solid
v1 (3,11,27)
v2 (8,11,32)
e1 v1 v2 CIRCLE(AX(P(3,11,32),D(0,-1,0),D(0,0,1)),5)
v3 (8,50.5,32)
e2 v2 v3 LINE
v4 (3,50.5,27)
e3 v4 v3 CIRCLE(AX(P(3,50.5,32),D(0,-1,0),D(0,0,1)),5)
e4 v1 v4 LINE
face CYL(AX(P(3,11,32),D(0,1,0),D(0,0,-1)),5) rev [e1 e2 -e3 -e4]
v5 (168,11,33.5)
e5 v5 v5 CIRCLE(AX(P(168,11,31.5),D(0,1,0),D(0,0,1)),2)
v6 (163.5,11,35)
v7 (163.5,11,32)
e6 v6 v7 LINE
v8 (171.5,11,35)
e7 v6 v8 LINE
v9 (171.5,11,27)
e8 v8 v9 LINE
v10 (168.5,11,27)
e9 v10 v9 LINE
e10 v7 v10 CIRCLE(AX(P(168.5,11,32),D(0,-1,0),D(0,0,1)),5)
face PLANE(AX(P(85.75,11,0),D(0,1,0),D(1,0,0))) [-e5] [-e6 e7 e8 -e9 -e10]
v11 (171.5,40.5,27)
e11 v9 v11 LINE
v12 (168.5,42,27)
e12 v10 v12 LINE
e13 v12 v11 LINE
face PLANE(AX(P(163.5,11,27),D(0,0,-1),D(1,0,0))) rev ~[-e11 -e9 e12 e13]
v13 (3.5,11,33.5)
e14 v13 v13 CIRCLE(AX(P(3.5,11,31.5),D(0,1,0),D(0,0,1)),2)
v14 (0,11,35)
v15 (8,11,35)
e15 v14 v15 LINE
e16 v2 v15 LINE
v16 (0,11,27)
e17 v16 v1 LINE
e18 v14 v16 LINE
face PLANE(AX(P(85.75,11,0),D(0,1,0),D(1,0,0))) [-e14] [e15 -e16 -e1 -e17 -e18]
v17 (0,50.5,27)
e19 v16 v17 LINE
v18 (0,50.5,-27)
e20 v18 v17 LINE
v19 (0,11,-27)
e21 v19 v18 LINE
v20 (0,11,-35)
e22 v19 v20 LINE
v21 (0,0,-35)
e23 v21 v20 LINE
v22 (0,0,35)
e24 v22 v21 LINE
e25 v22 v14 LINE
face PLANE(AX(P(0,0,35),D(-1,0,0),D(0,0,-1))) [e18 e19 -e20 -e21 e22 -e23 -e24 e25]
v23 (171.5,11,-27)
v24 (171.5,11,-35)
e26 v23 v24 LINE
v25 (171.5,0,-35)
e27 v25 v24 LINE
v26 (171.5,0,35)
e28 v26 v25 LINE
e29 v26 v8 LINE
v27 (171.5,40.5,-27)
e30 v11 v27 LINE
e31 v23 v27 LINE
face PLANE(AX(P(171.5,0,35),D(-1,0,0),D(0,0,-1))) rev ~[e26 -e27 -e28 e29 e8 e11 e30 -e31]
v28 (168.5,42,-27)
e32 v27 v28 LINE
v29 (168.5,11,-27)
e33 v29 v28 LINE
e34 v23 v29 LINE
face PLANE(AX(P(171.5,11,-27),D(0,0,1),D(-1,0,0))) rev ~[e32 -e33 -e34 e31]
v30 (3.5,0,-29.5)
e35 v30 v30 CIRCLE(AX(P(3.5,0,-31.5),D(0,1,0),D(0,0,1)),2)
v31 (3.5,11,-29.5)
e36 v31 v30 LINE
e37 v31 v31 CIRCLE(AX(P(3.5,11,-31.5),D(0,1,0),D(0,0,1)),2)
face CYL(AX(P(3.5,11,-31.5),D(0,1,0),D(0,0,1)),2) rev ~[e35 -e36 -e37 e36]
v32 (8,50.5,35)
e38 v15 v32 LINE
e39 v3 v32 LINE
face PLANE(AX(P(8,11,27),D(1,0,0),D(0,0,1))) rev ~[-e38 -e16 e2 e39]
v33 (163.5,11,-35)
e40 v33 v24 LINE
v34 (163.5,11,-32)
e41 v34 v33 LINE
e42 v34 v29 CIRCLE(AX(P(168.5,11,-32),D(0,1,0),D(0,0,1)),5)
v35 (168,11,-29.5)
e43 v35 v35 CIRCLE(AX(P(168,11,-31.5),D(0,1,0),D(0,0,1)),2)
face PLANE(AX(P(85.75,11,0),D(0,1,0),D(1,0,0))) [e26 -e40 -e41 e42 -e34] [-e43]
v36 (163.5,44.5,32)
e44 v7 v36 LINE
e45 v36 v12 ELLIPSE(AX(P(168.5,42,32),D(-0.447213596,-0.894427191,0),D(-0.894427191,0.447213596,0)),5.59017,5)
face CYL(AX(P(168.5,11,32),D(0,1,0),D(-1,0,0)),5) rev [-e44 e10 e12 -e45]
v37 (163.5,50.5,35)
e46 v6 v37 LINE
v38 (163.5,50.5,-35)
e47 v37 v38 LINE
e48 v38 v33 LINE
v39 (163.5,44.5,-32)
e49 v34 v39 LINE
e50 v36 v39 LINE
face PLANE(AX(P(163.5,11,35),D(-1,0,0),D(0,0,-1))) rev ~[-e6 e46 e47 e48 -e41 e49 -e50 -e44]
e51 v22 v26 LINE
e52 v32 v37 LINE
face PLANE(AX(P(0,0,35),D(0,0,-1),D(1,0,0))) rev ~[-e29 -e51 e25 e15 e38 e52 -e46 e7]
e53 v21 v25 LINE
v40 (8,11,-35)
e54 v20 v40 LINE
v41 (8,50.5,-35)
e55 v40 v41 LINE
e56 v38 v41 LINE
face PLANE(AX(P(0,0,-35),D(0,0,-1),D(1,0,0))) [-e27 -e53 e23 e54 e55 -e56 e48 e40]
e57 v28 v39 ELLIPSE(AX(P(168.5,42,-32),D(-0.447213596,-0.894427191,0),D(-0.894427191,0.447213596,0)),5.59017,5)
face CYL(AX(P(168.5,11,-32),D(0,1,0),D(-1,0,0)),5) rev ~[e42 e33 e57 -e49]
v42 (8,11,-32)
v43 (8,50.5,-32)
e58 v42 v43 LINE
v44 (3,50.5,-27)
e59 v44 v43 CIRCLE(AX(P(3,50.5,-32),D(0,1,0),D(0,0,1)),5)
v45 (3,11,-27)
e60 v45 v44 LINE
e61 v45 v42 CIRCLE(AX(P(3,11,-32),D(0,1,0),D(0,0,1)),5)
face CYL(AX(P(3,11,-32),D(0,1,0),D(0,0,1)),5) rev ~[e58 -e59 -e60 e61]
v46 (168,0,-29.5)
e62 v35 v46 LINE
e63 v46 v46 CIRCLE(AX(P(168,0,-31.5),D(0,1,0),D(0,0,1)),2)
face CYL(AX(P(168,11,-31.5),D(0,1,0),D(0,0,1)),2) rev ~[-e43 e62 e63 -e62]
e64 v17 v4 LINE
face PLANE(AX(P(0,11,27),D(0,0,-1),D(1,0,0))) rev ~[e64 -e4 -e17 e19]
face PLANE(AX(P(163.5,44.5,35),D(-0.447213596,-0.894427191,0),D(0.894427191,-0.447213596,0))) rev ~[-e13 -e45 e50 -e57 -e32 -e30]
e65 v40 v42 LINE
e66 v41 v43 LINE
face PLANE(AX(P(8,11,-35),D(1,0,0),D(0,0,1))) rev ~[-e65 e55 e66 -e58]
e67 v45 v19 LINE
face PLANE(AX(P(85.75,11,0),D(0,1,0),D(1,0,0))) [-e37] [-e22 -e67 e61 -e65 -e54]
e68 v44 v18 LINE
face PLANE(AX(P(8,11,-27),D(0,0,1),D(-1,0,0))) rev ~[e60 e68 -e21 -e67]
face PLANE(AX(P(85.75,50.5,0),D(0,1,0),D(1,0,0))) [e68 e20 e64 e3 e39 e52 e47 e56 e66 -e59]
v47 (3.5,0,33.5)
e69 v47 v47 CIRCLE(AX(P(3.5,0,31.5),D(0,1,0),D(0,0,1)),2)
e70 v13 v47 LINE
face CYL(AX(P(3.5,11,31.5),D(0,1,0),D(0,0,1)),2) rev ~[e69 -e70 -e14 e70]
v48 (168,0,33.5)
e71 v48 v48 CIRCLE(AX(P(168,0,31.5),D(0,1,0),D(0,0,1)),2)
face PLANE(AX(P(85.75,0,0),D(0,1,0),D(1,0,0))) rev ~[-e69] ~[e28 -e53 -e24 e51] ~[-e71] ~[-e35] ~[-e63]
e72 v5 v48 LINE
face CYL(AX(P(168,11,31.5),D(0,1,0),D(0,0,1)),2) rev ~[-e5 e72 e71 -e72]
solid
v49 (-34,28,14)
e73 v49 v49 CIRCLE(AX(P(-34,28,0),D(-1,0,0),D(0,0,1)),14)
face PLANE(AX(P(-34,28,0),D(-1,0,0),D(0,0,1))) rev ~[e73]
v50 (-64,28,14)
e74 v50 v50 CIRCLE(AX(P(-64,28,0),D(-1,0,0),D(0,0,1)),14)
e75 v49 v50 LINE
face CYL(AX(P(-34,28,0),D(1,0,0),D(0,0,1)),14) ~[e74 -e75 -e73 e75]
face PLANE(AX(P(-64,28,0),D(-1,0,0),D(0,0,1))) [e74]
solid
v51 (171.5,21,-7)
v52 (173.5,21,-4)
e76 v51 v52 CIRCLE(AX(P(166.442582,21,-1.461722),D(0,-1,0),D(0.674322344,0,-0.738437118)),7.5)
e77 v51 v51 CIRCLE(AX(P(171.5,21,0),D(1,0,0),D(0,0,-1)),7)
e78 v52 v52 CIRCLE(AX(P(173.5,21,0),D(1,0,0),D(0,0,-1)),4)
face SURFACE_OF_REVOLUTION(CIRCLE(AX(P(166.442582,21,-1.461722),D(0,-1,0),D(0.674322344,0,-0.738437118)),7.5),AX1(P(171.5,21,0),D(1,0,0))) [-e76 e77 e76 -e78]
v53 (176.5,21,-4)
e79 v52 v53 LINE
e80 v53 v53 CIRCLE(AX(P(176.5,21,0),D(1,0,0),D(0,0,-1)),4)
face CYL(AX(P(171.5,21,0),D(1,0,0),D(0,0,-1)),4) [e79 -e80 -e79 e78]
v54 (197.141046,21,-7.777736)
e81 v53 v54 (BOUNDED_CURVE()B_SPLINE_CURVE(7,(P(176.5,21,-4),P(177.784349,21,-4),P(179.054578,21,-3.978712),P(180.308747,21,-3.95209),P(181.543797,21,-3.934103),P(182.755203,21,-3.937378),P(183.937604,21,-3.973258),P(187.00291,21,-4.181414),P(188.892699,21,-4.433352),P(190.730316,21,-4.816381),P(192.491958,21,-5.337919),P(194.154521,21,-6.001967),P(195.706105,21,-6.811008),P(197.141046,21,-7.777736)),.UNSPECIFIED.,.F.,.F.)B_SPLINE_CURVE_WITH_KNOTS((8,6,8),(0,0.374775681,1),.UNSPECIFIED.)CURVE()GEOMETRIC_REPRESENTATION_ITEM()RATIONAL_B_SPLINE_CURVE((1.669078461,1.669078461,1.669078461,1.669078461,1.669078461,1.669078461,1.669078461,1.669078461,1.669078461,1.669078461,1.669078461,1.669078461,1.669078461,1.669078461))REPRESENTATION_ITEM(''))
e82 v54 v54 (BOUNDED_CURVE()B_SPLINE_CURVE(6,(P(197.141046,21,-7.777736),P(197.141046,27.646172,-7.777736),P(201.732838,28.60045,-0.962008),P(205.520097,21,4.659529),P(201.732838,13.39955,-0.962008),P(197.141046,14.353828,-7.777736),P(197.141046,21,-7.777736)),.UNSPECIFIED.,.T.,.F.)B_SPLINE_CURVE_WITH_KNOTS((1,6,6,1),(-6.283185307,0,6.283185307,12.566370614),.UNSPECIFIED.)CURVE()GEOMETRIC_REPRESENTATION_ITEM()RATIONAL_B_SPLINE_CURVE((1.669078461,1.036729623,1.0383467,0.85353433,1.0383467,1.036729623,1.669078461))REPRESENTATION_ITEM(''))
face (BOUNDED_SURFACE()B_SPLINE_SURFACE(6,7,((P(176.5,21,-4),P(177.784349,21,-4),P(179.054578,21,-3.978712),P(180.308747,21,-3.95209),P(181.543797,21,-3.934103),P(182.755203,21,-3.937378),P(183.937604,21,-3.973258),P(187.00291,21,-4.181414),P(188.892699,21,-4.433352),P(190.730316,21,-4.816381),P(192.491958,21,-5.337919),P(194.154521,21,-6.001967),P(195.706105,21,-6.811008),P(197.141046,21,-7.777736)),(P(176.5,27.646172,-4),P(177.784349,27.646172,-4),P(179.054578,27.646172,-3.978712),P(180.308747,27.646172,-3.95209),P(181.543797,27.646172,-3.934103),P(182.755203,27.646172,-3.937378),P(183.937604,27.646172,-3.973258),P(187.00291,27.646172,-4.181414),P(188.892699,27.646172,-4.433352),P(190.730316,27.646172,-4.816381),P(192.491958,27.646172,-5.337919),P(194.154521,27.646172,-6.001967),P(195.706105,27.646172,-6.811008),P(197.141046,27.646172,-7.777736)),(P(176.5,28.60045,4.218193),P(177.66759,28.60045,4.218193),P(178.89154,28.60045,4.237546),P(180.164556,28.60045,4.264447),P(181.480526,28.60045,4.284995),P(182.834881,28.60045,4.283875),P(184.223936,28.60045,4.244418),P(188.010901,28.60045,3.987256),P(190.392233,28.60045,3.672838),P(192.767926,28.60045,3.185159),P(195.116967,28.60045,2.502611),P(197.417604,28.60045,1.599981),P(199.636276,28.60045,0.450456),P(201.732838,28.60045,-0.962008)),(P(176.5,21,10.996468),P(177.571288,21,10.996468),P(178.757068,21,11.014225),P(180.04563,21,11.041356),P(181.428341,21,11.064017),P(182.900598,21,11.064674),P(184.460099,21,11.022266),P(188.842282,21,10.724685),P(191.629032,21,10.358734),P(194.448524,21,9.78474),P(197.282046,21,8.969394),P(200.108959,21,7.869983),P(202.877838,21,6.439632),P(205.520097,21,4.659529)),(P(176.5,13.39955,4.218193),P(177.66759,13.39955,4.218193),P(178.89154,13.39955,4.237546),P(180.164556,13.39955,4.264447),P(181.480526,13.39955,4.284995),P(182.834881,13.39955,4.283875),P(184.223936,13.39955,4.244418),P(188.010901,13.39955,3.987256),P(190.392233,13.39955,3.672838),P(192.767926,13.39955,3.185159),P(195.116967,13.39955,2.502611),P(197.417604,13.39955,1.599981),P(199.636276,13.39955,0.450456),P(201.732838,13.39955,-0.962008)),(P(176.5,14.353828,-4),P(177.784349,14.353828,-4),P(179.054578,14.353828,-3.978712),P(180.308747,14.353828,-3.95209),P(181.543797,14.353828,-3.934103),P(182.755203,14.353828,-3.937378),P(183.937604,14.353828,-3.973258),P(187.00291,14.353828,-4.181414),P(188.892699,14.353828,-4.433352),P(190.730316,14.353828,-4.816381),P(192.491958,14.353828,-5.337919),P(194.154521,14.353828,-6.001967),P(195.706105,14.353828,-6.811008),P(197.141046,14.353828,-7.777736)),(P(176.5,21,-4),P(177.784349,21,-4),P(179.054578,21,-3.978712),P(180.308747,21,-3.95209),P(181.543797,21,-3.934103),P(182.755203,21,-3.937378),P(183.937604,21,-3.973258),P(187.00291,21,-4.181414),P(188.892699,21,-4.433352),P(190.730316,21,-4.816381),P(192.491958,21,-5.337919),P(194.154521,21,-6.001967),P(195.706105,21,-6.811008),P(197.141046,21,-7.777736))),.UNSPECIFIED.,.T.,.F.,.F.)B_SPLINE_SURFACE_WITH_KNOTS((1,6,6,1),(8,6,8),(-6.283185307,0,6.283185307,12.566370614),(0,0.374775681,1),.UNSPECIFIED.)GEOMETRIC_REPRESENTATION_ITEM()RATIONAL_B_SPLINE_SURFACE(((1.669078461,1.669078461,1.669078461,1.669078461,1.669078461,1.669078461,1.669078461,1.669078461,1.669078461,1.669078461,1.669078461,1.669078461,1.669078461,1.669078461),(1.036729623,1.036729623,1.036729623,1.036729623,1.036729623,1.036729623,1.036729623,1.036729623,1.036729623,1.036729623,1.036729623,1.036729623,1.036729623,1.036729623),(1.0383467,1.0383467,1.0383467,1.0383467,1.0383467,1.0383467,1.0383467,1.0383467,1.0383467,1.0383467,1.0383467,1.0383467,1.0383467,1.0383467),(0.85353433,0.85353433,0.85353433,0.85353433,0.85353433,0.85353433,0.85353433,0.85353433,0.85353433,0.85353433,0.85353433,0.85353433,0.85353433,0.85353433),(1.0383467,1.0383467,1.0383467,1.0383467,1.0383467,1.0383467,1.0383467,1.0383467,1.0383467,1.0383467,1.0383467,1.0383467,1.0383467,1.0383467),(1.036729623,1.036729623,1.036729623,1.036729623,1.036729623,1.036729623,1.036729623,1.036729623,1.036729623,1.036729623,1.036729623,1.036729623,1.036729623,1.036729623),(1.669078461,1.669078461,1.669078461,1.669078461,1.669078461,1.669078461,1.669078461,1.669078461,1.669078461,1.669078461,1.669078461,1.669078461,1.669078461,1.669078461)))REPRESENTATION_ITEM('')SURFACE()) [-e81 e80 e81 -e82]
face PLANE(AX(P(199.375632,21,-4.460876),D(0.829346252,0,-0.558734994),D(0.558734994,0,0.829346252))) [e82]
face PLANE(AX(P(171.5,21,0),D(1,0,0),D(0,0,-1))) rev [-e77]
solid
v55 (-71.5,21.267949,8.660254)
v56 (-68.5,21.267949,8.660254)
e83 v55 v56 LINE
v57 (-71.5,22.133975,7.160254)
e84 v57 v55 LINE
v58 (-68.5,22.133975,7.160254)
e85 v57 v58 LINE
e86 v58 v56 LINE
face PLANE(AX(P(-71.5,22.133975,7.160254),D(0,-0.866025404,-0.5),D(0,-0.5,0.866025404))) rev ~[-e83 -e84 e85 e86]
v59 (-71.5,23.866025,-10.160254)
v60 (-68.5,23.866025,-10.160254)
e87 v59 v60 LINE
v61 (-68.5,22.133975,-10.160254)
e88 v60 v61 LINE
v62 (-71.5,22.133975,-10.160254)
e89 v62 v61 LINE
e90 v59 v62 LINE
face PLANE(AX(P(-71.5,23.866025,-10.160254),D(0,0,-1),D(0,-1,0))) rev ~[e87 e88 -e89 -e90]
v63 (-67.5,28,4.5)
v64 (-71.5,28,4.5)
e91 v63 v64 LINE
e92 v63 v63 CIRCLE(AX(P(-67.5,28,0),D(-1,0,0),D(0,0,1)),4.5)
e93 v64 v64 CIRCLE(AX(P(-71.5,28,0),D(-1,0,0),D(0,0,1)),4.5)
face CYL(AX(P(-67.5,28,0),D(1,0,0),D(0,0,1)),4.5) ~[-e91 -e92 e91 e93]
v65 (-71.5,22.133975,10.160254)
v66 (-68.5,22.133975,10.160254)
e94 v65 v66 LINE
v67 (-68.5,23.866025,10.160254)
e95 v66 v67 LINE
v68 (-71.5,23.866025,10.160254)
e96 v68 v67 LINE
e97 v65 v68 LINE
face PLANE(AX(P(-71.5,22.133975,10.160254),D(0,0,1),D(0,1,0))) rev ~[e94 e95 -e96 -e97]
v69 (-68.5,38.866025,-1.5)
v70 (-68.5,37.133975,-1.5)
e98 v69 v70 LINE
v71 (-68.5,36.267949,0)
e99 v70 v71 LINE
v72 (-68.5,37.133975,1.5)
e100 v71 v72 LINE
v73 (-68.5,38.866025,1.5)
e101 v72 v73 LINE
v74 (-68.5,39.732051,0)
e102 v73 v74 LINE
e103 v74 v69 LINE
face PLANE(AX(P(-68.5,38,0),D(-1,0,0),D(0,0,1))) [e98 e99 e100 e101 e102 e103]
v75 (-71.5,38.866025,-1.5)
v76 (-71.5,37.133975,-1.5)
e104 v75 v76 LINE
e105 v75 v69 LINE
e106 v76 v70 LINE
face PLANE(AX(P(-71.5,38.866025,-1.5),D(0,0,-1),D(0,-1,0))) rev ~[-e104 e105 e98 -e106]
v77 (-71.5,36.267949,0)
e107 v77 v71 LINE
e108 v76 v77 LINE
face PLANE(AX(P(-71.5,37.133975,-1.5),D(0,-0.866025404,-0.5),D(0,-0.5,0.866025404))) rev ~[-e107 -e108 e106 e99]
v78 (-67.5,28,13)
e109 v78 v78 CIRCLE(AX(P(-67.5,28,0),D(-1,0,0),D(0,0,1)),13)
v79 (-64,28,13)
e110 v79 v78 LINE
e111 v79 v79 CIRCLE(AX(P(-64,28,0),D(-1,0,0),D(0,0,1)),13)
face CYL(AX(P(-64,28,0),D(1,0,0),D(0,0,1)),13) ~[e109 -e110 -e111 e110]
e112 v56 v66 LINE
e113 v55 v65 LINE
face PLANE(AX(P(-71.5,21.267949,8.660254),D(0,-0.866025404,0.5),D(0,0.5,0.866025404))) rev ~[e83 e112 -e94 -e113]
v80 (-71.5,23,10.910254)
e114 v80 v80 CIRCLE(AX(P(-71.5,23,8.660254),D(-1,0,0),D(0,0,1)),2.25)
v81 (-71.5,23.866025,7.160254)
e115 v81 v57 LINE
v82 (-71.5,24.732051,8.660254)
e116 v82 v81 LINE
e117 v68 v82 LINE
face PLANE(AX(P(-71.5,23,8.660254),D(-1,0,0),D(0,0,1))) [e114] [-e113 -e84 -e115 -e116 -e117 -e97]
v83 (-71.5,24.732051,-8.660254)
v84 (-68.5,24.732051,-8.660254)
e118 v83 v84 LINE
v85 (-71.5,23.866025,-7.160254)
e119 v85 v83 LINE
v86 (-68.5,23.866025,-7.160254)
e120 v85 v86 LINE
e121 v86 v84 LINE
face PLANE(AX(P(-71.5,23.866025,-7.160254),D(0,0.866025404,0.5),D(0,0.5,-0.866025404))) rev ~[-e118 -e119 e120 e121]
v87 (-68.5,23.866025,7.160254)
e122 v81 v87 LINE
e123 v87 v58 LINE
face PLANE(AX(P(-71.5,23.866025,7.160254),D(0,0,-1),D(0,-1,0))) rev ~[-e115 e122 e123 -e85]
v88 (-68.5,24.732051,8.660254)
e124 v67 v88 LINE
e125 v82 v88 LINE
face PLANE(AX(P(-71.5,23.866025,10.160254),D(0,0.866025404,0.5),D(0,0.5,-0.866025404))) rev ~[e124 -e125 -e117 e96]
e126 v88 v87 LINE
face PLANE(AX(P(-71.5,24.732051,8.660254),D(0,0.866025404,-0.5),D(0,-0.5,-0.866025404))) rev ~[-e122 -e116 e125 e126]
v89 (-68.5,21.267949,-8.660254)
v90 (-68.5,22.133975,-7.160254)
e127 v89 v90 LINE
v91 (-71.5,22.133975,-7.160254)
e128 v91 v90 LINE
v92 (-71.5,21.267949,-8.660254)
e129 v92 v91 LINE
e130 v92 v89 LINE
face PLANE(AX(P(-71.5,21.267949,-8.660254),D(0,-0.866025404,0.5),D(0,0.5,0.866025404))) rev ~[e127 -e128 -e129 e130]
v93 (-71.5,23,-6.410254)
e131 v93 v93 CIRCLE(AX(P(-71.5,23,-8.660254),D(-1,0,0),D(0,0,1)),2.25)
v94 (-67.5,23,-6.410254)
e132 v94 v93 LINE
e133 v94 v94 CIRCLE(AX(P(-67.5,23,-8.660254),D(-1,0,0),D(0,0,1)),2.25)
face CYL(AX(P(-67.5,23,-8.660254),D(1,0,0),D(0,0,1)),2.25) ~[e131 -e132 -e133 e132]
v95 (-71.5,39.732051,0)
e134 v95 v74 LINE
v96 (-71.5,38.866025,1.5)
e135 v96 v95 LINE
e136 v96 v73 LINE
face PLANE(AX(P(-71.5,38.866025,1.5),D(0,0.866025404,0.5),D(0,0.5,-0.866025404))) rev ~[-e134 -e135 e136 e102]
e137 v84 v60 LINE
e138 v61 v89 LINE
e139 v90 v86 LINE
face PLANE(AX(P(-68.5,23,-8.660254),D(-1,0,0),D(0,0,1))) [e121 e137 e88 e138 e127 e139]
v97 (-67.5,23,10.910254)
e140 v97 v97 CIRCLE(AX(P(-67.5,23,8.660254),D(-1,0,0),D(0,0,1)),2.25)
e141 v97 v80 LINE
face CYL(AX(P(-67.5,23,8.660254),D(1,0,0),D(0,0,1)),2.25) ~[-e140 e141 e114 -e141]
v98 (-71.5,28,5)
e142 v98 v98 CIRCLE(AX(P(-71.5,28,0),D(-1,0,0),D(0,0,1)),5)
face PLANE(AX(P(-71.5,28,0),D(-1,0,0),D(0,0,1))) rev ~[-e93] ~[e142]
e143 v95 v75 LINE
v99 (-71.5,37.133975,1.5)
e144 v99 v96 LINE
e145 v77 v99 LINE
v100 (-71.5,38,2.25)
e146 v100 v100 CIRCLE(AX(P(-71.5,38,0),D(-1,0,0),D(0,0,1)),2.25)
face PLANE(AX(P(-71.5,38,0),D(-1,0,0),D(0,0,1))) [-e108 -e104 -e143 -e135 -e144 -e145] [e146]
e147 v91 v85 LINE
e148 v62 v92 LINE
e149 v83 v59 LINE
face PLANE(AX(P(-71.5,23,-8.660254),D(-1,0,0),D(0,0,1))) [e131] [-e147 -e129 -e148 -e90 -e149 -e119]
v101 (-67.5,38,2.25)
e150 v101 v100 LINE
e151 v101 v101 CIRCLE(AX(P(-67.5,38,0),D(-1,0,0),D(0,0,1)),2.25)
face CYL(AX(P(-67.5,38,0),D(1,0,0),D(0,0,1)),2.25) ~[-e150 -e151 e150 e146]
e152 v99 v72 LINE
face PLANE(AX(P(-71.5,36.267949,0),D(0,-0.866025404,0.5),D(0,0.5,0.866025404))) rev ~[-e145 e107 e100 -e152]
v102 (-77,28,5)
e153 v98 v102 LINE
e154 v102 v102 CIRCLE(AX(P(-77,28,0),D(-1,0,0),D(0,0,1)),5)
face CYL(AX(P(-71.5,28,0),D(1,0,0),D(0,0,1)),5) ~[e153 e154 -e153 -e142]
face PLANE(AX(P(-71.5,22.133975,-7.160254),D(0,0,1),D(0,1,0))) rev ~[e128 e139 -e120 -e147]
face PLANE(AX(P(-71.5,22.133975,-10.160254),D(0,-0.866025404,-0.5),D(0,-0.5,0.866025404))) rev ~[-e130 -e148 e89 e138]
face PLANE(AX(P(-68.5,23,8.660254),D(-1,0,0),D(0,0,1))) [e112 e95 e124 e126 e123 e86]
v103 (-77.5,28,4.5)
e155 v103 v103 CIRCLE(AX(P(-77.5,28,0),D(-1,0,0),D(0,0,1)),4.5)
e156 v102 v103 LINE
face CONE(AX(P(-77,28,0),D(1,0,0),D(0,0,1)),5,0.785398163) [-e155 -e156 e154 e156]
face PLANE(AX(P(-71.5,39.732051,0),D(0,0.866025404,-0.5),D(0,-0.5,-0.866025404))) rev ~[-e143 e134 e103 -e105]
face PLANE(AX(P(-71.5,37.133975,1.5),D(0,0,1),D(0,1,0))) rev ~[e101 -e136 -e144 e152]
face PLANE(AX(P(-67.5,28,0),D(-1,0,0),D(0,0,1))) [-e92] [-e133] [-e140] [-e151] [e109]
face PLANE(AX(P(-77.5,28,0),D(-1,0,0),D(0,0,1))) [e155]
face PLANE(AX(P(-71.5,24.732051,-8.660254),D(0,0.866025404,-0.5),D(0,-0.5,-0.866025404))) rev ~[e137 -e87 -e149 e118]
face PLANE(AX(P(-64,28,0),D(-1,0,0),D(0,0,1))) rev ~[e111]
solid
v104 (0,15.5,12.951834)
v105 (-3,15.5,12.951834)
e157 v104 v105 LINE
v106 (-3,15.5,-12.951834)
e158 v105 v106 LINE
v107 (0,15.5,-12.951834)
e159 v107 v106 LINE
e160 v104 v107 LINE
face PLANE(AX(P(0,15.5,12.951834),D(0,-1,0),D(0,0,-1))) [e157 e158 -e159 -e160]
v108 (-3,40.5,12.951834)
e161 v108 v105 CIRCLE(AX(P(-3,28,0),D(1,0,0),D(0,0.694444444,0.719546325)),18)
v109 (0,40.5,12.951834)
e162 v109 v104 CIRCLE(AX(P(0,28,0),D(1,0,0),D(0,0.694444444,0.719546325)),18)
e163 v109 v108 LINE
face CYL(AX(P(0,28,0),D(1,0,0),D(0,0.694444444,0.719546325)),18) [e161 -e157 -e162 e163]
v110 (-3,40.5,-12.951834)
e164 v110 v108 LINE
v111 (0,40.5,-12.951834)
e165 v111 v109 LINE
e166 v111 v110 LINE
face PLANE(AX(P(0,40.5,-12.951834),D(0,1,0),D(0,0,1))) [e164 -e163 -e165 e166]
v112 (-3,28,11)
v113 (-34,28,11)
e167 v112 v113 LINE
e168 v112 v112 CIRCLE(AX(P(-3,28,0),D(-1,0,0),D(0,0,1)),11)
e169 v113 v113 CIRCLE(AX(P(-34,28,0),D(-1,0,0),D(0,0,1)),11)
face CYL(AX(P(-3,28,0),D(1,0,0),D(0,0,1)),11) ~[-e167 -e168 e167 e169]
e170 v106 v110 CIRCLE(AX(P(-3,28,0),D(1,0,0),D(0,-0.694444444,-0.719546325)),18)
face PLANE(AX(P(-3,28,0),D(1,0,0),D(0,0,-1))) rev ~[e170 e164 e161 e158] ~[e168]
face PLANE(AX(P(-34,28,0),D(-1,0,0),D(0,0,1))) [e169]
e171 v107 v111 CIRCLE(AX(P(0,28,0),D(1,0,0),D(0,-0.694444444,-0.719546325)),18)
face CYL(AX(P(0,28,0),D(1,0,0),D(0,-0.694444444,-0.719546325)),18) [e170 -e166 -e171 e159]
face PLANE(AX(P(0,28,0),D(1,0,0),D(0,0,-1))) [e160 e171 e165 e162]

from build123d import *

# Parameters (mm, degrees)
SKETCH1_W           = 171.5
SKETCH1_H           = 70
BOSS_EXTRUDE1_DEPTH = 11
BOSS_EXTRUDE2_DEPTH = 39.5
FILLET1_R           = 5
SKETCH3_W           = 8
SKETCH3_H           = 70
CUT_EXTRUDE1_DEPTH  = 6
CUT_EXTRUDE2_REACH  = 193.996
BOSS_EXTRUDE3_DEPTH = 3
SKETCH6_R           = 11
BOSS_EXTRUDE4_DEPTH = 31
SKETCH7_R           = 14
BOSS_EXTRUDE5_DEPTH = 30
SKETCH8_R           = 13
BOSS_EXTRUDE6_DEPTH = 3.5
SKETCH9_R           = 2.25
BOSS_EXTRUDE7_DEPTH = 4
CUT_EXTRUDE3_DEPTH  = 3
SKETCH11_R          = 4.5
BOSS_EXTRUDE8_DEPTH = 4
SKETCH12_R          = 5
BOSS_EXTRUDE9_DEPTH = 6
CHAMFER1_SIZE       = 0.5
SKETCH13_R          = 2
CUT_EXTRUDE4_DEPTH  = 11
SKETCH15_R          = 4


with BuildPart() as part:
    # Sketch1 → Boss-Extrude1 (new body)
    with BuildSketch(Plane(origin=(0, 0, 0), x_dir=(1, 0, 0), z_dir=(0, 1, 0))):
        with Locations((85.75, 0)):
            Rectangle(SKETCH1_W, SKETCH1_H)
    extrude(amount=BOSS_EXTRUDE1_DEPTH)

    # Sketch2 → Boss-Extrude2 (add)
    with BuildSketch(Plane(origin=(0, 11, 0), x_dir=(1, 0, 0), z_dir=(0, 1, 0))):
        Polygon((0, 27), (0, -27), (8, -27), (8, -35), (163.5, -35), (163.5, -27), (171.5, -27), (171.5, 27), (163.5, 27), (163.5, 35), (8, 35), (8, 27), align=None)
    extrude(amount=BOSS_EXTRUDE2_DEPTH)

    # Fillet1
    fillet1_edges = [part.edges().sort_by_distance(p)[0] for p in [
        (8, 30.75, -27),
        (8, 30.75, 27),
        (163.5, 30.75, 27),
        (163.5, 30.75, -27),
    ]]
    fillet(fillet1_edges, radius=FILLET1_R)

    # Sketch3 → Cut-Extrude1 (cut)
    with BuildSketch(Plane(origin=(0, 50.5, 0), x_dir=(1, 0, 0), z_dir=(0, 1, 0))):
        with Locations((167.5, 0)):
            Rectangle(SKETCH3_W, SKETCH3_H)
    extrude(amount=-CUT_EXTRUDE1_DEPTH, mode=Mode.SUBTRACT)

    # Sketch4 → Cut-Extrude2 (cut, up to next)
    with BuildSketch(Plane.XY.offset(35), mode=Mode.PRIVATE) as cut_extrude2_sk1:
        Polygon((163.5, 44.5), (171.5, 40.5), (171.5, 44.5), align=None)
    cut_extrude2_tool1 = extrude(cut_extrude2_sk1.sketch, amount=-CUT_EXTRUDE2_REACH, mode=Mode.PRIVATE) & part.part
    add(cut_extrude2_tool1.solids().sort_by_distance((168.833333, 43.166667, 35))[0], mode=Mode.SUBTRACT)

    # Sketch13 → Cut-Extrude4 (cut)
    with BuildSketch(Plane(origin=(0, 11, 0), x_dir=(1, 0, 0), z_dir=(0, 1, 0))):
        with Locations(Location((3.5, 31.5, 0), (0, 0, 270))):
            Circle(SKETCH13_R)
        with Locations(Location((3.5, -31.5, 0), (0, 0, 270))):
            Circle(SKETCH13_R)
        with Locations(Location((168, -31.5, 0), (0, 0, 270))):
            Circle(SKETCH13_R)
        with Locations(Location((168, 31.5, 0), (0, 0, 270))):
            Circle(SKETCH13_R)
    extrude(amount=-CUT_EXTRUDE4_DEPTH, mode=Mode.SUBTRACT)


with BuildPart() as body_2:
    # Sketch5 → Boss-Extrude3 (new body)
    with BuildSketch(Plane.ZY):
        with BuildLine():
            Line((-12.951833847, 40.5), (12.951833847, 40.5))
            ThreePointArc((12.951833847, 40.5), (18, 28), (12.951833847, 15.5))
            Line((12.951833847, 15.5), (-12.951833847, 15.5))
            ThreePointArc((-12.951833847, 15.5), (-18, 28), (-12.951833847, 40.5))
        make_face()
    extrude(amount=BOSS_EXTRUDE3_DEPTH)

    # Sketch6 → Boss-Extrude4 (add)
    with BuildSketch(Plane.ZY.offset(3)):
        with Locations((0, 28)):
            Circle(SKETCH6_R)
    extrude(amount=BOSS_EXTRUDE4_DEPTH)


with BuildPart() as body_3:
    # Sketch7 → Boss-Extrude5 (new body)
    with BuildSketch(Plane.ZY.offset(34)):
        with Locations((0, 28)):
            Circle(SKETCH7_R)
    extrude(amount=BOSS_EXTRUDE5_DEPTH)


with BuildPart() as body_4:
    # Sketch8 → Boss-Extrude6 (new body)
    with BuildSketch(Plane.ZY.offset(64)):
        with Locations((0, 28)):
            Circle(SKETCH8_R)
    extrude(amount=BOSS_EXTRUDE6_DEPTH)

    # Sketch9 → Boss-Extrude7 (add)
    with BuildSketch(Plane.ZY.offset(67.5)):
        with Locations((0, 38)):
            Circle(SKETCH9_R)
        with Locations((8.660254038, 23)):
            Circle(SKETCH9_R)
        with Locations((-8.660254038, 23)):
            Circle(SKETCH9_R)
    extrude(amount=BOSS_EXTRUDE7_DEPTH)

    # Sketch10 → Cut-Extrude3 (cut)
    with BuildSketch(Plane.ZY.offset(71.5)):
        Polygon((1.5, 37.133974596), (1.5, 38.866025404), (0, 39.732050808), (-1.5, 38.866025404), (-1.5, 37.133974596), (0, 36.267949192), align=None)
        Polygon((10.160254038, 23.866025404), (8.660254038, 24.732050808), (7.160254038, 23.866025404), (7.160254038, 22.133974596), (8.660254038, 21.267949192), (10.160254038, 22.133974596), align=None)
        Polygon((-7.160254038, 23.866025404), (-8.660254038, 24.732050808), (-10.160254038, 23.866025404), (-10.160254038, 22.133974596), (-8.660254038, 21.267949192), (-7.160254038, 22.133974596), align=None)
    extrude(amount=-CUT_EXTRUDE3_DEPTH, mode=Mode.SUBTRACT)



with BuildPart() as body_5:
    # Sketch11 → Boss-Extrude8 (new body)
    with BuildSketch(Plane.ZY.offset(67.5)):
        with Locations((0, 28)):
            Circle(SKETCH11_R)
    extrude(amount=BOSS_EXTRUDE8_DEPTH)


with BuildPart() as body_4_1:
    add(body_4.part)

    add(body_5.part)  # Boss-Extrude9 merges body 5
    # Sketch12 → Boss-Extrude9 (add)
    with BuildSketch(Plane.ZY.offset(71.5)):
        with Locations((0, 28)):
            Circle(SKETCH12_R)
    extrude(amount=BOSS_EXTRUDE9_DEPTH)

    # Chamfer1
    chamfer1_edges = [body_4_1.edges().sort_by_distance(p)[0] for p in [
        (-77.5, 28, -5),
    ]]
    chamfer(chamfer1_edges, length=CHAMFER1_SIZE)


with BuildPart() as body_5_2:
    # Sweep1: sweep along a curve in space
    with BuildLine() as sweep1_path:
        Line((171.5, 21, 0), (176.5, 21, 0))
        add(Edge.make_bspline(
            [(176.5, 21, 0), (179.364212524, 21, 0), (187.383678788, 21, 0.380028995), (195.27639291, 21, -1.698433096), (199.375985718, 21, -4.460350641)],
            knots=[0, 0, 0, 0, 0.374775681, 1, 1, 1, 1], degree=3))
    # Sketch15 → Sweep1 (sweep)
    with BuildSketch(Plane(origin=(171.5, 0, 0), x_dir=(0, 0, -1), z_dir=(1, 0, 0))):
        with Locations((0, 21)):
            Circle(SKETCH15_R)
    sweep(path=sweep1_path.line)

    # Sketch16 → Revolve1 (revolve)
    with BuildSketch(Plane.XY, mode=Mode.PRIVATE) as revolve1_sk:
        with BuildLine():
            Line((171.5, 25), (171.5, 28))
            ThreePointArc((171.5, 28), (172.682959631, 26.621973088), (173.5, 25))
            Line((173.5, 25), (171.5, 25))
        make_face()
    revolve(revolve1_sk.sketch.rotate(Axis((171.5, 21, 0), (1, 0, 0)), 270), axis=Axis((171.5, 21, 0), (1, 0, 0)))


solid = Compound([part.part, body_2.part, body_3.part, body_4_1.part, body_5_2.part])
